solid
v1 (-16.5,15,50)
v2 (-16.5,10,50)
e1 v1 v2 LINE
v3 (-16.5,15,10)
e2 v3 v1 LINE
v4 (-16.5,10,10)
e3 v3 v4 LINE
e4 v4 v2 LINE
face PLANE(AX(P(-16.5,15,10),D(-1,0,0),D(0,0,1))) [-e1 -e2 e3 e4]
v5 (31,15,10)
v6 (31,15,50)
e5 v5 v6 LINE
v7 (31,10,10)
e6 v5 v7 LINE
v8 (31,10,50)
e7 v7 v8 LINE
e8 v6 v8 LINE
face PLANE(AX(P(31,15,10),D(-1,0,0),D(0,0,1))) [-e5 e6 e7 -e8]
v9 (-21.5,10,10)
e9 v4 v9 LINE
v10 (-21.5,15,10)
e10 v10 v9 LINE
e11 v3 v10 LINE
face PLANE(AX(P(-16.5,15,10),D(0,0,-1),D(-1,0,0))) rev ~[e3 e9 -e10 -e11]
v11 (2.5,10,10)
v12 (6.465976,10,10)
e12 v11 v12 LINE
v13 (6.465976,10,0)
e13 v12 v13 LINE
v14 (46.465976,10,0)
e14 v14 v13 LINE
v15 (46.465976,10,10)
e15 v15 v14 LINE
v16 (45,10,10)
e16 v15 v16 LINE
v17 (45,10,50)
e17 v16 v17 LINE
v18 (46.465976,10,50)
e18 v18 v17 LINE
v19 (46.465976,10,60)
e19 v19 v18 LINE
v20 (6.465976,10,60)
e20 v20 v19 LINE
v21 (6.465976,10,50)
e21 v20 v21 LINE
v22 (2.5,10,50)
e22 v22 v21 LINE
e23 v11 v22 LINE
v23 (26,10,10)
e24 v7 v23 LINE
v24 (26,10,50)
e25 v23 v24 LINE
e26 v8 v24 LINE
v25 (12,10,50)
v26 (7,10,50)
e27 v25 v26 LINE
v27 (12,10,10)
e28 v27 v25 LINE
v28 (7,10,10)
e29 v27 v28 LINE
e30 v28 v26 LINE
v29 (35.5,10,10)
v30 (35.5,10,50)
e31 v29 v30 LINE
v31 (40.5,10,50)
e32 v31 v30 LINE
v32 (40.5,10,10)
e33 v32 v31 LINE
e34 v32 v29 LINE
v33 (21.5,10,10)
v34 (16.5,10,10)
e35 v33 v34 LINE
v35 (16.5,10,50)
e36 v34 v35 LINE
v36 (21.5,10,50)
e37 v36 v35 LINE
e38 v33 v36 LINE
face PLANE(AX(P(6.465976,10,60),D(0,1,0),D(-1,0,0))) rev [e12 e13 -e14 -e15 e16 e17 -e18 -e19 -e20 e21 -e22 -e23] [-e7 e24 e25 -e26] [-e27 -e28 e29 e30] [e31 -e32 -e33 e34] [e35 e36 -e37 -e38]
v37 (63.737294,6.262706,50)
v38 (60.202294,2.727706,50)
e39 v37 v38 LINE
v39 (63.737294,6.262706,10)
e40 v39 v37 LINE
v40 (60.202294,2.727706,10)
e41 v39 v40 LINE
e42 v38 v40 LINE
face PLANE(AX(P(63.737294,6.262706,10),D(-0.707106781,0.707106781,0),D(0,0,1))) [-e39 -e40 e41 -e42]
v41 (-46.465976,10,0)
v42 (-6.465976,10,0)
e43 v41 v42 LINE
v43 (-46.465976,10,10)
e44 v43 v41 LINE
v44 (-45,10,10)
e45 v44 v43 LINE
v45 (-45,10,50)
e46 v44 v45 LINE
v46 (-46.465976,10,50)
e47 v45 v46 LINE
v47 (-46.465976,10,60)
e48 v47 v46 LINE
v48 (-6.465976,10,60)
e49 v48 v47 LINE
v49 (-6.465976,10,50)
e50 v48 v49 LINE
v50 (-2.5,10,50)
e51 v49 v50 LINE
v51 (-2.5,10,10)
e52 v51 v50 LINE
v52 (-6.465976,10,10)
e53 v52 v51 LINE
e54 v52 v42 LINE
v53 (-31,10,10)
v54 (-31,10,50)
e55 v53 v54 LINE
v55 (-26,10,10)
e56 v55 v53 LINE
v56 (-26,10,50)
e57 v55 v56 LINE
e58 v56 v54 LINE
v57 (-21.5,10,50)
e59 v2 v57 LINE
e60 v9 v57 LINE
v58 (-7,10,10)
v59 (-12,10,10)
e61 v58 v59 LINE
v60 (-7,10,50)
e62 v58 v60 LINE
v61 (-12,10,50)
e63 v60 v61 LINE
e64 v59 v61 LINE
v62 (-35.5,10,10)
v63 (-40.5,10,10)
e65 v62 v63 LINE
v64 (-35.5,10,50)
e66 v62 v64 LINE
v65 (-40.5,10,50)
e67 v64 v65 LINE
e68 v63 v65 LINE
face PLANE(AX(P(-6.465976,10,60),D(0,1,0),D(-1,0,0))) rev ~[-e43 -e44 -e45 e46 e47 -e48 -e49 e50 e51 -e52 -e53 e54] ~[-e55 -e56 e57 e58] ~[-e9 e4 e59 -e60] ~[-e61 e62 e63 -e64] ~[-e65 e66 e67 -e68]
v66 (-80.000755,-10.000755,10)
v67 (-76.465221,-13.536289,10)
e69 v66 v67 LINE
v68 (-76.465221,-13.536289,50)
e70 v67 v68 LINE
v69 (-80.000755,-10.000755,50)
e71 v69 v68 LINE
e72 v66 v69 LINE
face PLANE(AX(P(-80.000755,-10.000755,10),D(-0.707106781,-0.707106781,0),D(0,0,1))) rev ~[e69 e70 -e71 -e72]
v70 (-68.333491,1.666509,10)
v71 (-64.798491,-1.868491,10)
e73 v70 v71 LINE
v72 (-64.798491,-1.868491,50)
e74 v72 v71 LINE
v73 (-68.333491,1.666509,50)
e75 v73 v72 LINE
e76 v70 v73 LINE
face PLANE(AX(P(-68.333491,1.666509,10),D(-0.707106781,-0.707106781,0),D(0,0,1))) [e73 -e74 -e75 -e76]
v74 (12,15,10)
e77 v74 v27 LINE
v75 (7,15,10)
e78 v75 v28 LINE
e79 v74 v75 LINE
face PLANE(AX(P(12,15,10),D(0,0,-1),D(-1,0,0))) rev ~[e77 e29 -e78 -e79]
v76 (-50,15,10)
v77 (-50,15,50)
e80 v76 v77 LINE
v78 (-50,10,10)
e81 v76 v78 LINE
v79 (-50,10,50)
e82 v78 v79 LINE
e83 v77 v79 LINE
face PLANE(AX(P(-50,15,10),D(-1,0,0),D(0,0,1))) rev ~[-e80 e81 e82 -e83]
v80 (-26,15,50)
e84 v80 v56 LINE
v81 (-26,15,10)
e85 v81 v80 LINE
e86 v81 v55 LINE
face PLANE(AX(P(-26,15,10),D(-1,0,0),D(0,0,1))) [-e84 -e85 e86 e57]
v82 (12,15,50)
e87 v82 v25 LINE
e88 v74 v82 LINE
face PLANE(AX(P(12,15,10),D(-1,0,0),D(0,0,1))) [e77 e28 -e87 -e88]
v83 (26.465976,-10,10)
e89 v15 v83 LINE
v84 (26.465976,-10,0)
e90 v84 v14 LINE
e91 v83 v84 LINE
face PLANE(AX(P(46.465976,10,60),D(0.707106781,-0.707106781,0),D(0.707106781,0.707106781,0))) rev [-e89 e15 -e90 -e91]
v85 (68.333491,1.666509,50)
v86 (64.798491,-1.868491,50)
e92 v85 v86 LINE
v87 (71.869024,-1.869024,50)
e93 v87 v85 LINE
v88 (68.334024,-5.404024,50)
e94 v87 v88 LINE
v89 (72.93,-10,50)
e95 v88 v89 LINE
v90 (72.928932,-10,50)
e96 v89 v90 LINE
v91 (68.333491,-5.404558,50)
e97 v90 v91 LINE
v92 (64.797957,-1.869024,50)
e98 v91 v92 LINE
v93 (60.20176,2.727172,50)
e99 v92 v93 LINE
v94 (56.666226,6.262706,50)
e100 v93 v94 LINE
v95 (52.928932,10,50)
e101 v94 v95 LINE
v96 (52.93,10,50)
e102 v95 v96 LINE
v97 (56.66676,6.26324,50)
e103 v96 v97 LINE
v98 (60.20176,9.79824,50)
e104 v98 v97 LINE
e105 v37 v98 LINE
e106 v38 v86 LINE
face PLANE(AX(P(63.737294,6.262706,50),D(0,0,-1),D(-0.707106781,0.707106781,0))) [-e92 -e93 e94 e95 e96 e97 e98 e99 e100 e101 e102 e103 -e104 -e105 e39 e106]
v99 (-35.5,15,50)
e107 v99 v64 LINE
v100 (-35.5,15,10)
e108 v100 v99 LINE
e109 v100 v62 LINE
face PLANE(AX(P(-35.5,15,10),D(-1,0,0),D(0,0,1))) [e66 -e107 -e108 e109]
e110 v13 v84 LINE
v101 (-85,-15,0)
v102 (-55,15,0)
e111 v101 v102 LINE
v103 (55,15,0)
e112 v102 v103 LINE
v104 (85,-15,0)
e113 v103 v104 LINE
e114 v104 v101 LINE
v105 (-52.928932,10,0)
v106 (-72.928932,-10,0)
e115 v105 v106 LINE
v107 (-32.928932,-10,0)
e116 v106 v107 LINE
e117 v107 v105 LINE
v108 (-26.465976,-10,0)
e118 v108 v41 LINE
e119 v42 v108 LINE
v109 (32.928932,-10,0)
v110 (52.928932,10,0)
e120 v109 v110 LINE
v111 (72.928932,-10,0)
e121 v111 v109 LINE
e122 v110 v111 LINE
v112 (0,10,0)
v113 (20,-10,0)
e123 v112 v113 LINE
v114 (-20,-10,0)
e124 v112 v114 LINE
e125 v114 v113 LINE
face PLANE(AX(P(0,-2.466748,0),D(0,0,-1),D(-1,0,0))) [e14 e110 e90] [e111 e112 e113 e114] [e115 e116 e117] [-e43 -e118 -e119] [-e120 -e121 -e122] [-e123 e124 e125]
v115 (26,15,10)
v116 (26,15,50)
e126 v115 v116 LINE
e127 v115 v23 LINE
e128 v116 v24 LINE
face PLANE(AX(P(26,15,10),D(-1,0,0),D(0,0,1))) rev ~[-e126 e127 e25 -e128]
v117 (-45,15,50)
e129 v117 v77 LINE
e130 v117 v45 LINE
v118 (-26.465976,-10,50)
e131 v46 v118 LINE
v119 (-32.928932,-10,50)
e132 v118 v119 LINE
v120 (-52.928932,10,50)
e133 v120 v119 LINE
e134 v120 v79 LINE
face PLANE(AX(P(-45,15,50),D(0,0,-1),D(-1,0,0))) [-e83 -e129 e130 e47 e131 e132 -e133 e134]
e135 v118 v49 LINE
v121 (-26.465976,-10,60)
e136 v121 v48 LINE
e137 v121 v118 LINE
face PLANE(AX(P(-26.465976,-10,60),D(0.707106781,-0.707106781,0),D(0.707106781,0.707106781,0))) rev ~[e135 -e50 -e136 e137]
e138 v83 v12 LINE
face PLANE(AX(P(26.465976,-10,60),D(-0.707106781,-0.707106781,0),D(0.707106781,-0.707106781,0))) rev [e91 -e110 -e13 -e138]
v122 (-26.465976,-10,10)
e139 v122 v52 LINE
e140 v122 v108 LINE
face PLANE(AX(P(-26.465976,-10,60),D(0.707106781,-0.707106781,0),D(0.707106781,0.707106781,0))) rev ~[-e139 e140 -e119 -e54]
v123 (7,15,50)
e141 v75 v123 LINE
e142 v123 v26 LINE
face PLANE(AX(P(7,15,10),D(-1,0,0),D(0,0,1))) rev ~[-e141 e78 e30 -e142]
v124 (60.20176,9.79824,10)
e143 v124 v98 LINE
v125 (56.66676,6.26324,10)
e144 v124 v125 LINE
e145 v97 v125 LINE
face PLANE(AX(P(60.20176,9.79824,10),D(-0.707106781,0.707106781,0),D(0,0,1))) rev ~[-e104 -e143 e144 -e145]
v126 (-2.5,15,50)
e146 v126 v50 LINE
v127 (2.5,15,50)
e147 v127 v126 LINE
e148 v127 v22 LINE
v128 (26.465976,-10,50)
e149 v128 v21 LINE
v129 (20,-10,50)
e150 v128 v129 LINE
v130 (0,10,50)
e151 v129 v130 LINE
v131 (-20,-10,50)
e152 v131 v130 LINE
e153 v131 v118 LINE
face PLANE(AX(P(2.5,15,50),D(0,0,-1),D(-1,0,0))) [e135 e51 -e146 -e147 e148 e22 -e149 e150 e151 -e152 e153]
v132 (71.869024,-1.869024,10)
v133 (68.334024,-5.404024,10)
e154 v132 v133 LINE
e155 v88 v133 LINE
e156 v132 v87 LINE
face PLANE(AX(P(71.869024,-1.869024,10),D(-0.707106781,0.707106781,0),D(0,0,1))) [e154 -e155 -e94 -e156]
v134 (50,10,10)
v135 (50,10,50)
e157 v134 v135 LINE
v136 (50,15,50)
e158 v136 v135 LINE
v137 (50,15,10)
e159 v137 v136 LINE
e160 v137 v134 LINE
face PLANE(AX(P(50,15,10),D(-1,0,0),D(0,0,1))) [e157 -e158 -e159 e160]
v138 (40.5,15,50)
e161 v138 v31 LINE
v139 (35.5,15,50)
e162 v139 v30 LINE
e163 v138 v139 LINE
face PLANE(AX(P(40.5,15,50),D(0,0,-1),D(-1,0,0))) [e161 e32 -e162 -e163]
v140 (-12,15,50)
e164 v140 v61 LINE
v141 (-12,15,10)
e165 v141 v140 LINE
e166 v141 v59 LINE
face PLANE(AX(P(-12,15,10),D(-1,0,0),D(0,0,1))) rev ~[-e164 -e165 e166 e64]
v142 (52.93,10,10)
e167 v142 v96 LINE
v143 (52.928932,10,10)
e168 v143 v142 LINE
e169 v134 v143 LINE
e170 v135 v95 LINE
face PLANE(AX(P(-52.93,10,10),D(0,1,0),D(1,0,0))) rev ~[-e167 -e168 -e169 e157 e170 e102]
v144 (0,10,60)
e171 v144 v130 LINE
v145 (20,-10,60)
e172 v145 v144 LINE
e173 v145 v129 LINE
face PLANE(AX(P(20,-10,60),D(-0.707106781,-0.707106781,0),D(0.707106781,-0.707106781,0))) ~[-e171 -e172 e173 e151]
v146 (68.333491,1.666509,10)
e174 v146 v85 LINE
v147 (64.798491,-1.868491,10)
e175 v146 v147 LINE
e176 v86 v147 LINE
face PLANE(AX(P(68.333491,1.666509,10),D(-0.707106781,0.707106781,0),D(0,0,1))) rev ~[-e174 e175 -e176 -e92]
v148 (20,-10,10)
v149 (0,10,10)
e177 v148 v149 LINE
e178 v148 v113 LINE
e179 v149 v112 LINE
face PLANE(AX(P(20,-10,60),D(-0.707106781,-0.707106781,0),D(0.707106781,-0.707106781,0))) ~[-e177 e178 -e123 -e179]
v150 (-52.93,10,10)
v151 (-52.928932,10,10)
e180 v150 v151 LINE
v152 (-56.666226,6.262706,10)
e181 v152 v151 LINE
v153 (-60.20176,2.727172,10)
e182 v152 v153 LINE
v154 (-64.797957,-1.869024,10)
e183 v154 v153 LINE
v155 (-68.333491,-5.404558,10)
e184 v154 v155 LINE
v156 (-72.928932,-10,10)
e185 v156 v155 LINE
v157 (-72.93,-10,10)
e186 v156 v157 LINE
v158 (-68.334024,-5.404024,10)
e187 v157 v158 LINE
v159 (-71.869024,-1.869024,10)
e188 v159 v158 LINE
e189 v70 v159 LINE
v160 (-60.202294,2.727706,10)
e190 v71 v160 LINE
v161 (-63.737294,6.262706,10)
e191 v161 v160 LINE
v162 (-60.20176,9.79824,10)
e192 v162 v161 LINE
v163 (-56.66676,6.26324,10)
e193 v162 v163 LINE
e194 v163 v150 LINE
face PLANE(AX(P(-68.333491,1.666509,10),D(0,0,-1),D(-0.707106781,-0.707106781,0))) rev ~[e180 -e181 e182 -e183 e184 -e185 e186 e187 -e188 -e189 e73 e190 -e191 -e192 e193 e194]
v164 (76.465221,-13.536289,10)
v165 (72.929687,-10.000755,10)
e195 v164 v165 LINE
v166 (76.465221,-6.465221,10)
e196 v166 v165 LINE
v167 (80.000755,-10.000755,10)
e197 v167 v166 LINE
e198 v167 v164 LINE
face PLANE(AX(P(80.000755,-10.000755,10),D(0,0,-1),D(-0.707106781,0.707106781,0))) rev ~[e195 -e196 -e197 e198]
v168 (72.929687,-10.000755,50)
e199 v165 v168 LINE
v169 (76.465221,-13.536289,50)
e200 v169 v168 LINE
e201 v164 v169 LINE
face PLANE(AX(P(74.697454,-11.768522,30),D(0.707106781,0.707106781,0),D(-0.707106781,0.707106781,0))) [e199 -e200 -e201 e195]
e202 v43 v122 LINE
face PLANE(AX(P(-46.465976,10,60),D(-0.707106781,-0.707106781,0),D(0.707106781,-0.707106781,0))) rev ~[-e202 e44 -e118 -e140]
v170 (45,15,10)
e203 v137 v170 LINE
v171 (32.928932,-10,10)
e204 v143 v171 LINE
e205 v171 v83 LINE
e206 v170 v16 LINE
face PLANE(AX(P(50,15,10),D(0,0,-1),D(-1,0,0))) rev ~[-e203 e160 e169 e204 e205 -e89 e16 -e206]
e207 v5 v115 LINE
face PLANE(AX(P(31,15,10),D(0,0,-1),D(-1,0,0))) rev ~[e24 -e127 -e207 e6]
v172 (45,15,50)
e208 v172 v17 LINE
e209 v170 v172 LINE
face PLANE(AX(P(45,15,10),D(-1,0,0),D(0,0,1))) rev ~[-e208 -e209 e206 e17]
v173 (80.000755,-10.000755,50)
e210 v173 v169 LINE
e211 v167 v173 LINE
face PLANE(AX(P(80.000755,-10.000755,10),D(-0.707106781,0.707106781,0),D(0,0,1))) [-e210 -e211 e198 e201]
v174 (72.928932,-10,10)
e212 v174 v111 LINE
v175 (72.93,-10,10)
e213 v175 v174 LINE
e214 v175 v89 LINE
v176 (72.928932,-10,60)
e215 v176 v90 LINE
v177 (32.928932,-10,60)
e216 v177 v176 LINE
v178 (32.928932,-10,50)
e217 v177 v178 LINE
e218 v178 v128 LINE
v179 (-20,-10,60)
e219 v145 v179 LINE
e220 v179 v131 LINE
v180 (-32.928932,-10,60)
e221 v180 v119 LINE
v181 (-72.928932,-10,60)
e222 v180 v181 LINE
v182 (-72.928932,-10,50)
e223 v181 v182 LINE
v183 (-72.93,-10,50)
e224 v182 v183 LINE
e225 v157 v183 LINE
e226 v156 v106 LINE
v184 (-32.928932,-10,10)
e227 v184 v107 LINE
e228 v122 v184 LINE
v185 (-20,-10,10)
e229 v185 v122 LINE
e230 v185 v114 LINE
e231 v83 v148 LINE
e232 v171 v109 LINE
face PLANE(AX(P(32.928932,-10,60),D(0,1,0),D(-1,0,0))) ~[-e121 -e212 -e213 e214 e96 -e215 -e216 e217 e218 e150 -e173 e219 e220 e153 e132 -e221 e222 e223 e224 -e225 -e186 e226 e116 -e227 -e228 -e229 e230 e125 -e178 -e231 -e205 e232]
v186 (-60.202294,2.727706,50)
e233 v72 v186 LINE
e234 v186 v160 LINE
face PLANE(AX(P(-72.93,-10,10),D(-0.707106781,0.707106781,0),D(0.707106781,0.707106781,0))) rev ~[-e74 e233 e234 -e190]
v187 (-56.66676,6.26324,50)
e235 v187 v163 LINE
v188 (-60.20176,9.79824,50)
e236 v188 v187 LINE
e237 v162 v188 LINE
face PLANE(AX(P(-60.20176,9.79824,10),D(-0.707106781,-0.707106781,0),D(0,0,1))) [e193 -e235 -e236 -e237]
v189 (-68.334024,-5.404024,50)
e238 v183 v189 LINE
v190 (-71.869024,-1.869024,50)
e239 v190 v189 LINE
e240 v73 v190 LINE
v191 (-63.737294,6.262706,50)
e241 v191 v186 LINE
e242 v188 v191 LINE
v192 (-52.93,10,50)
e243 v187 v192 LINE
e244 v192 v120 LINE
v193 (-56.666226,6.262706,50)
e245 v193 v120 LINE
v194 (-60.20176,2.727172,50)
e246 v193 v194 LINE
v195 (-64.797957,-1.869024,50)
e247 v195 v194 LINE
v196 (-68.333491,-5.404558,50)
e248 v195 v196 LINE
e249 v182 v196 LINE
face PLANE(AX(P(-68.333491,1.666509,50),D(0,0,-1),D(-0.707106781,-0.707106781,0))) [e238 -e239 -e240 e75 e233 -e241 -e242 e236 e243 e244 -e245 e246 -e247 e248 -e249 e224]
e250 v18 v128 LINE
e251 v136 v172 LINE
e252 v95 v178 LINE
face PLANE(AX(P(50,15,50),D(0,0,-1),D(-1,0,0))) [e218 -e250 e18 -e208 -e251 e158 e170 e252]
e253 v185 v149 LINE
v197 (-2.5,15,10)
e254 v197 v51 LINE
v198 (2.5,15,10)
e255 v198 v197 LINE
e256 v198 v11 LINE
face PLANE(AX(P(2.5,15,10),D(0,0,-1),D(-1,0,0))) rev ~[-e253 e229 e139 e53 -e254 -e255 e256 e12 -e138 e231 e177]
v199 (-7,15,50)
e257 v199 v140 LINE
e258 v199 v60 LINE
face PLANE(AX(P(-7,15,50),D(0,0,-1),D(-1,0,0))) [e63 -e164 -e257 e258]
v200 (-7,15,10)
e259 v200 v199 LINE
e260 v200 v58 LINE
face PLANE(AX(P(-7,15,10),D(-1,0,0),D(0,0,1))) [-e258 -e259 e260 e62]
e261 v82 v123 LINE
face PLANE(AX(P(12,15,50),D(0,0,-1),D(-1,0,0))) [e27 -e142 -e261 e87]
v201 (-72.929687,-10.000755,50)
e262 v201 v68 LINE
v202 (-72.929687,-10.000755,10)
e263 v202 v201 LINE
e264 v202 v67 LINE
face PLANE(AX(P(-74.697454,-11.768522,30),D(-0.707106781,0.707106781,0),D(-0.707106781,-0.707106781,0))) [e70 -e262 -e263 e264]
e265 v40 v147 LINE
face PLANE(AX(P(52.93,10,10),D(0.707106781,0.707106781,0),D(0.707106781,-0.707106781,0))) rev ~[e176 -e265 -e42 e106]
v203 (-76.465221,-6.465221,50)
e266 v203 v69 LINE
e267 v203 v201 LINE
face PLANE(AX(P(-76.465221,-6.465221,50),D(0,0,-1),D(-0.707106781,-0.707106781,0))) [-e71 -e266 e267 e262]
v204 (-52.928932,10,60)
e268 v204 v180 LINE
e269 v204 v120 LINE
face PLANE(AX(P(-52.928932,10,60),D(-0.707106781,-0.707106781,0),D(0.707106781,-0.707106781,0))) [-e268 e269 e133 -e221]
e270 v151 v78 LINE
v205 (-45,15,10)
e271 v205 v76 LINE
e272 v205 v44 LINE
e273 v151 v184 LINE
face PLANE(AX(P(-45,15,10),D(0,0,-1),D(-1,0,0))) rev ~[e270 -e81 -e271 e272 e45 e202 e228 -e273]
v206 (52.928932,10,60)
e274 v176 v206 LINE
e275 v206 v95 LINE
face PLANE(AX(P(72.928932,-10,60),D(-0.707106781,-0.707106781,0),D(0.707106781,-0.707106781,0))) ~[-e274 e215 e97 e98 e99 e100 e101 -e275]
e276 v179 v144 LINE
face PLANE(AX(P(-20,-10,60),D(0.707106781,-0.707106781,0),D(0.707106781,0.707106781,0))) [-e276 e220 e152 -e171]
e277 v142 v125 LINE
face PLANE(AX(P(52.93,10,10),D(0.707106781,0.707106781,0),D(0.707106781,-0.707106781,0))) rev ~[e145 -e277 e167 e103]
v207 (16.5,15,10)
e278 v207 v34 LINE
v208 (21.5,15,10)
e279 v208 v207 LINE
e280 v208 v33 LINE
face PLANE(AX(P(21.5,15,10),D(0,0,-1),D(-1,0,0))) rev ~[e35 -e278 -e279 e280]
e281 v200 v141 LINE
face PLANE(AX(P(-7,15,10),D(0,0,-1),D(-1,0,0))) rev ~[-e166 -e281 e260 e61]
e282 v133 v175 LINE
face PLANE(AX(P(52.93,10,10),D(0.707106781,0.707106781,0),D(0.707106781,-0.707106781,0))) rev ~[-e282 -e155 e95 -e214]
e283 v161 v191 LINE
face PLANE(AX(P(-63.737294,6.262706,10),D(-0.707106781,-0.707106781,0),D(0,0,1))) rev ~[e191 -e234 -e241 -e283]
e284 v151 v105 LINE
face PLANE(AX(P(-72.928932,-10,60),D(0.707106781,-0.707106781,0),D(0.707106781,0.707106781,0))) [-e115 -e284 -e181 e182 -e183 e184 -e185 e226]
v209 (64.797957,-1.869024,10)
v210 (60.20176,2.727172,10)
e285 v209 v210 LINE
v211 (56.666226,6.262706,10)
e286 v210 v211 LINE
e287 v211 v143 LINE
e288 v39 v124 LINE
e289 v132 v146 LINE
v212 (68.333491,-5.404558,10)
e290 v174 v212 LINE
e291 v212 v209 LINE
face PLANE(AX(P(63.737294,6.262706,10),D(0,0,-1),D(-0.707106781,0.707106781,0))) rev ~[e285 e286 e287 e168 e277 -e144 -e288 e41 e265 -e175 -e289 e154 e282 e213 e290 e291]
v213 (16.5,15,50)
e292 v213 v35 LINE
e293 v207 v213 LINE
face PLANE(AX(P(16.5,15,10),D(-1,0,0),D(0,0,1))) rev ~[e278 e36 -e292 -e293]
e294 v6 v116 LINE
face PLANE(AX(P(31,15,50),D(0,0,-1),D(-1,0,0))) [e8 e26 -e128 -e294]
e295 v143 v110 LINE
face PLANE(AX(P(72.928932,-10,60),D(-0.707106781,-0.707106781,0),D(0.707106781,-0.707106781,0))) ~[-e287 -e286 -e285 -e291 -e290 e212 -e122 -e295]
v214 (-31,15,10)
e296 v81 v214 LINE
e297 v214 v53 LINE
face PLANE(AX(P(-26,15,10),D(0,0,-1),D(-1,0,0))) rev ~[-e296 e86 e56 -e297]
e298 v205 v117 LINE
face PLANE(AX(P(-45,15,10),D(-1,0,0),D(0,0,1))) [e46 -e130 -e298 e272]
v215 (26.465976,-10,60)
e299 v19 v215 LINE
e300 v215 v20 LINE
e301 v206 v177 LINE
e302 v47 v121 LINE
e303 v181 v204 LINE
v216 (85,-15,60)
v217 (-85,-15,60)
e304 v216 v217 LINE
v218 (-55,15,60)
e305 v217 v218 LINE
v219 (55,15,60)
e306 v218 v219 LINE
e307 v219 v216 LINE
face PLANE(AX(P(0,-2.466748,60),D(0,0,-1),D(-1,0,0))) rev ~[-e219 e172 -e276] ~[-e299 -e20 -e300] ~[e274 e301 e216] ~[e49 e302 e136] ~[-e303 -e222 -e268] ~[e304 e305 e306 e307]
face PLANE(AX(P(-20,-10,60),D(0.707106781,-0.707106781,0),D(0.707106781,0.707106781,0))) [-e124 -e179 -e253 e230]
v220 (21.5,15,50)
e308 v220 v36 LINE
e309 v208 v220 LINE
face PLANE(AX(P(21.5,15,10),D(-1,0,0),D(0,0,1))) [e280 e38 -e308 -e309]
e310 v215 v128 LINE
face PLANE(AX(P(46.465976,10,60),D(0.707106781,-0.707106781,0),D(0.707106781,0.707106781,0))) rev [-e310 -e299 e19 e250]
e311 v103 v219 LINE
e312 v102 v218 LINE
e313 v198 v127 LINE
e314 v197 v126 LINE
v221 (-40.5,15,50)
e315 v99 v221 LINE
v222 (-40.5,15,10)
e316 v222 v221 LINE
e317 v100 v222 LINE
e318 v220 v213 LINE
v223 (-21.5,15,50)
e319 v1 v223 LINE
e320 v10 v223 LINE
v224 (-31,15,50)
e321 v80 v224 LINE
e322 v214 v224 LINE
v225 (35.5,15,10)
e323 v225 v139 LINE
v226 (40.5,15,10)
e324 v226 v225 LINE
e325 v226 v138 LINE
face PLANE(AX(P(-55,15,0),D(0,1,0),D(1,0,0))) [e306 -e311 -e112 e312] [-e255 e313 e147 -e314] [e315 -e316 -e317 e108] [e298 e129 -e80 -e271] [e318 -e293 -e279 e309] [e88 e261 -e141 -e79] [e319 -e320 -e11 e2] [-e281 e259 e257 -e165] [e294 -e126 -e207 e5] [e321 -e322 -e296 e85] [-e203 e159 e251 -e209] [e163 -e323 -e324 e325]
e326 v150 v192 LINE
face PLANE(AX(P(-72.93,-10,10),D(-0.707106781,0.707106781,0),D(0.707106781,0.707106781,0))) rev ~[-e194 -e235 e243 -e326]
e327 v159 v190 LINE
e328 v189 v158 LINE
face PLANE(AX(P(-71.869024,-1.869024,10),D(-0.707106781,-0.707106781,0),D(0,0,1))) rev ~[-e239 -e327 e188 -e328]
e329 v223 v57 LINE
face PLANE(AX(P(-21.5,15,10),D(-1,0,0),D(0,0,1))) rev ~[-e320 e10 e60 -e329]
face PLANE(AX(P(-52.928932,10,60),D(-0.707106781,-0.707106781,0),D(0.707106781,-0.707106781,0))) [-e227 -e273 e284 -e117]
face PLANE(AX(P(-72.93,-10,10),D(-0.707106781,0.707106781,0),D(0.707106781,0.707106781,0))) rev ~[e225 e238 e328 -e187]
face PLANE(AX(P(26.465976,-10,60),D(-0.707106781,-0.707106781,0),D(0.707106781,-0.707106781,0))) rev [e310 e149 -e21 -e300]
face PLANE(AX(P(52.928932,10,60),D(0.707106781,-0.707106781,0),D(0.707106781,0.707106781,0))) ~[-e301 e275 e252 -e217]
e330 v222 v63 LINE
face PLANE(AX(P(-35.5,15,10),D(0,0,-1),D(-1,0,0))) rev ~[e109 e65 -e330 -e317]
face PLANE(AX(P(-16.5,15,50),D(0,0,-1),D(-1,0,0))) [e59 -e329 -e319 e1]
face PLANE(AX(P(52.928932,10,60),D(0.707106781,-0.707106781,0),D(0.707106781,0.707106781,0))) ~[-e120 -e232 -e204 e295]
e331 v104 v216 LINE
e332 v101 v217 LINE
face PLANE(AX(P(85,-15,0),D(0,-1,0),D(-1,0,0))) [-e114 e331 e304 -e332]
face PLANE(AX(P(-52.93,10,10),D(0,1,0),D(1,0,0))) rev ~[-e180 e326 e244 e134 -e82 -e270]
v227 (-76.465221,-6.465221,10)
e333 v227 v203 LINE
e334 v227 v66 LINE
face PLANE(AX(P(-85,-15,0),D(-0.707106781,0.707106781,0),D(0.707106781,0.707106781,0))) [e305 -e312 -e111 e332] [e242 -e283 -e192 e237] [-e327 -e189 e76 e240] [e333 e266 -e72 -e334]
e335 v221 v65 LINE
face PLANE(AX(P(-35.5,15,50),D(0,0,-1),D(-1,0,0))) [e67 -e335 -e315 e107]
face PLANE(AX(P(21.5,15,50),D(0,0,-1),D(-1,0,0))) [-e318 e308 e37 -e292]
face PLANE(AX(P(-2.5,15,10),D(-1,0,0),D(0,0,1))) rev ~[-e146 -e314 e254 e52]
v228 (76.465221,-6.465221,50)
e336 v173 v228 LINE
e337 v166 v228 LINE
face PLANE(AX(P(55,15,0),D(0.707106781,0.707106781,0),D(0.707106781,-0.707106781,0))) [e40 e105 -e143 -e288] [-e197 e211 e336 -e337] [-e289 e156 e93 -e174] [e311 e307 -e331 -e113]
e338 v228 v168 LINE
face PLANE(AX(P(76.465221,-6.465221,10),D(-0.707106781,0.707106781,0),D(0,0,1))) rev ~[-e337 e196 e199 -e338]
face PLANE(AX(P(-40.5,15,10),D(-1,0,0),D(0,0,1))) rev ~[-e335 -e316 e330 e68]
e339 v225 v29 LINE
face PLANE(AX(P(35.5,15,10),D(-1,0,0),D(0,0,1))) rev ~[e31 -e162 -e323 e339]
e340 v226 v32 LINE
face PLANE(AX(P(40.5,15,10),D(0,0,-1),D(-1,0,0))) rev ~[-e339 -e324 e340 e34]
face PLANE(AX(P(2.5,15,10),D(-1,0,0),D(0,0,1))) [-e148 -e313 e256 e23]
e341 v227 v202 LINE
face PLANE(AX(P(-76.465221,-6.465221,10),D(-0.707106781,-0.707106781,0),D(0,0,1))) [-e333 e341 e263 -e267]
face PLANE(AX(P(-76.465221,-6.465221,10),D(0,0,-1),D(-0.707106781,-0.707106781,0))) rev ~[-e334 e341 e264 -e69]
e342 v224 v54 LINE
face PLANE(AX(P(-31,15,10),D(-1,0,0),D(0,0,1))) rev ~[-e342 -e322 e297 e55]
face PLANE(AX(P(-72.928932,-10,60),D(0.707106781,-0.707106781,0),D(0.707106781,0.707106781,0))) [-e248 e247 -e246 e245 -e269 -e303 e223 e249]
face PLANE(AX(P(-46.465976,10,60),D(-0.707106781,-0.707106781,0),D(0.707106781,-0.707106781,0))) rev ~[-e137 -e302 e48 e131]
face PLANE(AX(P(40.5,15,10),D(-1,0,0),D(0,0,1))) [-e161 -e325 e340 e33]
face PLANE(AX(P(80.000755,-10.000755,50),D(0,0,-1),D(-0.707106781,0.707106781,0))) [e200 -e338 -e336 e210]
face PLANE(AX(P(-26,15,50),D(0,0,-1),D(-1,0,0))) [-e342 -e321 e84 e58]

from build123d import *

# Parameters (mm, degrees)
PAD001_DEPTH           = 40
PAD_DEPTH              = 60
POCKET_DEPTH           = 425.514338
SKETCH002_W            = 5
SKETCH002_H            = 40
POCKET001_DEPTH        = 5
LINEARPATTERN_COUNT    = 11
LINEARPATTERN_PITCH    = 9.5
SKETCH003_W            = 5
SKETCH003_H            = 40
POCKET002_DEPTH        = 5
LINEARPATTERN001_COUNT = 3
LINEARPATTERN001_PITCH = 11.5
SKETCH004_W            = 5
SKETCH004_H            = 40
POCKET003_DEPTH        = 5
LINEARPATTERN002_COUNT = 3
LINEARPATTERN002_PITCH = 11.5


with BuildPart() as body001:
    # Sketch005 → Pad001 (new body)
    with BuildSketch(Plane.XY):
        Polygon((-52.93, 10), (52.93, 10), (72.93, -10), (-72.93, -10), align=None)
    extrude(amount=PAD001_DEPTH)


with BuildPart() as body001_1:
    # Body001 placement: moved
    add(body001.part.moved(Location((0, 0, 10))))


with BuildPart() as cut:
    # Sketch → Pad (new body)
    with BuildSketch(Plane.XY):
        Polygon((-55, 15), (55, 15), (85, -15), (-85, -15), align=None)
    extrude(amount=PAD_DEPTH)

    # Sketch001 (on Face6 of Pad) → Pocket (cut, through all)
    with BuildSketch(Plane.XY.offset(60)):
        Polygon((-72.928932, -10), (-52.928932, 10), (-32.928932, -10), align=None)
        Polygon((-46.465976, 10), (-26.465976, -10), (-6.465976, 10), align=None)
        Polygon((-20, -10), (0, 10), (0, -10), align=None)
    pocket = extrude(amount=-POCKET_DEPTH, mode=Mode.SUBTRACT)

    # Mirrored: Pocket across Sketch001 V_Axis
    add(pocket.mirror(Plane(origin=(0, 0, 60), x_dir=(0, 0, 1), z_dir=(1, 0, 0))), mode=Mode.SUBTRACT)

    # Sketch002 (on Face1 of Mirrored) → Pocket001 (cut)
    with BuildSketch(Plane(origin=(0, 15, 0), x_dir=(-1, 0, 0), z_dir=(0, 1, 0))):
        with Locations((-47.5, 30)):
            Rectangle(SKETCH002_W, SKETCH002_H)
    pocket001 = extrude(amount=-POCKET001_DEPTH, mode=Mode.SUBTRACT)

    # LinearPattern: Pocket001 ×11
    with Locations(*[(-i * LINEARPATTERN_PITCH, 0, 0) for i in range(1, LINEARPATTERN_COUNT)]):
        add(pocket001, mode=Mode.SUBTRACT)

    # Sketch003 (on Face5 of LinearPattern) → Pocket002 (cut)
    with BuildSketch(Plane(origin=(35, 35, 0), x_dir=(-0.707107, 0.707107, 0), z_dir=(0.707107, 0.707107, 0))):
        with Locations((-61.140678, 30)):
            Rectangle(SKETCH003_W, SKETCH003_H)
    pocket002 = extrude(amount=-POCKET002_DEPTH, mode=Mode.SUBTRACT)

    # LinearPattern001: Pocket002 ×3
    with Locations(*[Vector(-0.707107, 0.707107, 0) * (i * LINEARPATTERN001_PITCH) for i in range(1, LINEARPATTERN001_COUNT)]):
        add(pocket002, mode=Mode.SUBTRACT)

    # Sketch004 (on Face2 of LinearPattern001) → Pocket003 (cut)
    with BuildSketch(Plane(origin=(-35, 35, 0), x_dir=(-0.707107, -0.707107, 0), z_dir=(-0.707107, 0.707107, 0))):
        with Locations((61.140678, 30)):
            Rectangle(SKETCH004_W, SKETCH004_H)
    pocket003 = extrude(amount=-POCKET003_DEPTH, mode=Mode.SUBTRACT)

    # LinearPattern002: Pocket003 ×3
    with Locations(*[Vector(0.707107, 0.707107, 0) * (i * LINEARPATTERN002_PITCH) for i in range(1, LINEARPATTERN002_COUNT)]):
        add(pocket003, mode=Mode.SUBTRACT)

    # Cut: cut Body001
    add(body001_1.part, mode=Mode.SUBTRACT)


solid = cut.part
